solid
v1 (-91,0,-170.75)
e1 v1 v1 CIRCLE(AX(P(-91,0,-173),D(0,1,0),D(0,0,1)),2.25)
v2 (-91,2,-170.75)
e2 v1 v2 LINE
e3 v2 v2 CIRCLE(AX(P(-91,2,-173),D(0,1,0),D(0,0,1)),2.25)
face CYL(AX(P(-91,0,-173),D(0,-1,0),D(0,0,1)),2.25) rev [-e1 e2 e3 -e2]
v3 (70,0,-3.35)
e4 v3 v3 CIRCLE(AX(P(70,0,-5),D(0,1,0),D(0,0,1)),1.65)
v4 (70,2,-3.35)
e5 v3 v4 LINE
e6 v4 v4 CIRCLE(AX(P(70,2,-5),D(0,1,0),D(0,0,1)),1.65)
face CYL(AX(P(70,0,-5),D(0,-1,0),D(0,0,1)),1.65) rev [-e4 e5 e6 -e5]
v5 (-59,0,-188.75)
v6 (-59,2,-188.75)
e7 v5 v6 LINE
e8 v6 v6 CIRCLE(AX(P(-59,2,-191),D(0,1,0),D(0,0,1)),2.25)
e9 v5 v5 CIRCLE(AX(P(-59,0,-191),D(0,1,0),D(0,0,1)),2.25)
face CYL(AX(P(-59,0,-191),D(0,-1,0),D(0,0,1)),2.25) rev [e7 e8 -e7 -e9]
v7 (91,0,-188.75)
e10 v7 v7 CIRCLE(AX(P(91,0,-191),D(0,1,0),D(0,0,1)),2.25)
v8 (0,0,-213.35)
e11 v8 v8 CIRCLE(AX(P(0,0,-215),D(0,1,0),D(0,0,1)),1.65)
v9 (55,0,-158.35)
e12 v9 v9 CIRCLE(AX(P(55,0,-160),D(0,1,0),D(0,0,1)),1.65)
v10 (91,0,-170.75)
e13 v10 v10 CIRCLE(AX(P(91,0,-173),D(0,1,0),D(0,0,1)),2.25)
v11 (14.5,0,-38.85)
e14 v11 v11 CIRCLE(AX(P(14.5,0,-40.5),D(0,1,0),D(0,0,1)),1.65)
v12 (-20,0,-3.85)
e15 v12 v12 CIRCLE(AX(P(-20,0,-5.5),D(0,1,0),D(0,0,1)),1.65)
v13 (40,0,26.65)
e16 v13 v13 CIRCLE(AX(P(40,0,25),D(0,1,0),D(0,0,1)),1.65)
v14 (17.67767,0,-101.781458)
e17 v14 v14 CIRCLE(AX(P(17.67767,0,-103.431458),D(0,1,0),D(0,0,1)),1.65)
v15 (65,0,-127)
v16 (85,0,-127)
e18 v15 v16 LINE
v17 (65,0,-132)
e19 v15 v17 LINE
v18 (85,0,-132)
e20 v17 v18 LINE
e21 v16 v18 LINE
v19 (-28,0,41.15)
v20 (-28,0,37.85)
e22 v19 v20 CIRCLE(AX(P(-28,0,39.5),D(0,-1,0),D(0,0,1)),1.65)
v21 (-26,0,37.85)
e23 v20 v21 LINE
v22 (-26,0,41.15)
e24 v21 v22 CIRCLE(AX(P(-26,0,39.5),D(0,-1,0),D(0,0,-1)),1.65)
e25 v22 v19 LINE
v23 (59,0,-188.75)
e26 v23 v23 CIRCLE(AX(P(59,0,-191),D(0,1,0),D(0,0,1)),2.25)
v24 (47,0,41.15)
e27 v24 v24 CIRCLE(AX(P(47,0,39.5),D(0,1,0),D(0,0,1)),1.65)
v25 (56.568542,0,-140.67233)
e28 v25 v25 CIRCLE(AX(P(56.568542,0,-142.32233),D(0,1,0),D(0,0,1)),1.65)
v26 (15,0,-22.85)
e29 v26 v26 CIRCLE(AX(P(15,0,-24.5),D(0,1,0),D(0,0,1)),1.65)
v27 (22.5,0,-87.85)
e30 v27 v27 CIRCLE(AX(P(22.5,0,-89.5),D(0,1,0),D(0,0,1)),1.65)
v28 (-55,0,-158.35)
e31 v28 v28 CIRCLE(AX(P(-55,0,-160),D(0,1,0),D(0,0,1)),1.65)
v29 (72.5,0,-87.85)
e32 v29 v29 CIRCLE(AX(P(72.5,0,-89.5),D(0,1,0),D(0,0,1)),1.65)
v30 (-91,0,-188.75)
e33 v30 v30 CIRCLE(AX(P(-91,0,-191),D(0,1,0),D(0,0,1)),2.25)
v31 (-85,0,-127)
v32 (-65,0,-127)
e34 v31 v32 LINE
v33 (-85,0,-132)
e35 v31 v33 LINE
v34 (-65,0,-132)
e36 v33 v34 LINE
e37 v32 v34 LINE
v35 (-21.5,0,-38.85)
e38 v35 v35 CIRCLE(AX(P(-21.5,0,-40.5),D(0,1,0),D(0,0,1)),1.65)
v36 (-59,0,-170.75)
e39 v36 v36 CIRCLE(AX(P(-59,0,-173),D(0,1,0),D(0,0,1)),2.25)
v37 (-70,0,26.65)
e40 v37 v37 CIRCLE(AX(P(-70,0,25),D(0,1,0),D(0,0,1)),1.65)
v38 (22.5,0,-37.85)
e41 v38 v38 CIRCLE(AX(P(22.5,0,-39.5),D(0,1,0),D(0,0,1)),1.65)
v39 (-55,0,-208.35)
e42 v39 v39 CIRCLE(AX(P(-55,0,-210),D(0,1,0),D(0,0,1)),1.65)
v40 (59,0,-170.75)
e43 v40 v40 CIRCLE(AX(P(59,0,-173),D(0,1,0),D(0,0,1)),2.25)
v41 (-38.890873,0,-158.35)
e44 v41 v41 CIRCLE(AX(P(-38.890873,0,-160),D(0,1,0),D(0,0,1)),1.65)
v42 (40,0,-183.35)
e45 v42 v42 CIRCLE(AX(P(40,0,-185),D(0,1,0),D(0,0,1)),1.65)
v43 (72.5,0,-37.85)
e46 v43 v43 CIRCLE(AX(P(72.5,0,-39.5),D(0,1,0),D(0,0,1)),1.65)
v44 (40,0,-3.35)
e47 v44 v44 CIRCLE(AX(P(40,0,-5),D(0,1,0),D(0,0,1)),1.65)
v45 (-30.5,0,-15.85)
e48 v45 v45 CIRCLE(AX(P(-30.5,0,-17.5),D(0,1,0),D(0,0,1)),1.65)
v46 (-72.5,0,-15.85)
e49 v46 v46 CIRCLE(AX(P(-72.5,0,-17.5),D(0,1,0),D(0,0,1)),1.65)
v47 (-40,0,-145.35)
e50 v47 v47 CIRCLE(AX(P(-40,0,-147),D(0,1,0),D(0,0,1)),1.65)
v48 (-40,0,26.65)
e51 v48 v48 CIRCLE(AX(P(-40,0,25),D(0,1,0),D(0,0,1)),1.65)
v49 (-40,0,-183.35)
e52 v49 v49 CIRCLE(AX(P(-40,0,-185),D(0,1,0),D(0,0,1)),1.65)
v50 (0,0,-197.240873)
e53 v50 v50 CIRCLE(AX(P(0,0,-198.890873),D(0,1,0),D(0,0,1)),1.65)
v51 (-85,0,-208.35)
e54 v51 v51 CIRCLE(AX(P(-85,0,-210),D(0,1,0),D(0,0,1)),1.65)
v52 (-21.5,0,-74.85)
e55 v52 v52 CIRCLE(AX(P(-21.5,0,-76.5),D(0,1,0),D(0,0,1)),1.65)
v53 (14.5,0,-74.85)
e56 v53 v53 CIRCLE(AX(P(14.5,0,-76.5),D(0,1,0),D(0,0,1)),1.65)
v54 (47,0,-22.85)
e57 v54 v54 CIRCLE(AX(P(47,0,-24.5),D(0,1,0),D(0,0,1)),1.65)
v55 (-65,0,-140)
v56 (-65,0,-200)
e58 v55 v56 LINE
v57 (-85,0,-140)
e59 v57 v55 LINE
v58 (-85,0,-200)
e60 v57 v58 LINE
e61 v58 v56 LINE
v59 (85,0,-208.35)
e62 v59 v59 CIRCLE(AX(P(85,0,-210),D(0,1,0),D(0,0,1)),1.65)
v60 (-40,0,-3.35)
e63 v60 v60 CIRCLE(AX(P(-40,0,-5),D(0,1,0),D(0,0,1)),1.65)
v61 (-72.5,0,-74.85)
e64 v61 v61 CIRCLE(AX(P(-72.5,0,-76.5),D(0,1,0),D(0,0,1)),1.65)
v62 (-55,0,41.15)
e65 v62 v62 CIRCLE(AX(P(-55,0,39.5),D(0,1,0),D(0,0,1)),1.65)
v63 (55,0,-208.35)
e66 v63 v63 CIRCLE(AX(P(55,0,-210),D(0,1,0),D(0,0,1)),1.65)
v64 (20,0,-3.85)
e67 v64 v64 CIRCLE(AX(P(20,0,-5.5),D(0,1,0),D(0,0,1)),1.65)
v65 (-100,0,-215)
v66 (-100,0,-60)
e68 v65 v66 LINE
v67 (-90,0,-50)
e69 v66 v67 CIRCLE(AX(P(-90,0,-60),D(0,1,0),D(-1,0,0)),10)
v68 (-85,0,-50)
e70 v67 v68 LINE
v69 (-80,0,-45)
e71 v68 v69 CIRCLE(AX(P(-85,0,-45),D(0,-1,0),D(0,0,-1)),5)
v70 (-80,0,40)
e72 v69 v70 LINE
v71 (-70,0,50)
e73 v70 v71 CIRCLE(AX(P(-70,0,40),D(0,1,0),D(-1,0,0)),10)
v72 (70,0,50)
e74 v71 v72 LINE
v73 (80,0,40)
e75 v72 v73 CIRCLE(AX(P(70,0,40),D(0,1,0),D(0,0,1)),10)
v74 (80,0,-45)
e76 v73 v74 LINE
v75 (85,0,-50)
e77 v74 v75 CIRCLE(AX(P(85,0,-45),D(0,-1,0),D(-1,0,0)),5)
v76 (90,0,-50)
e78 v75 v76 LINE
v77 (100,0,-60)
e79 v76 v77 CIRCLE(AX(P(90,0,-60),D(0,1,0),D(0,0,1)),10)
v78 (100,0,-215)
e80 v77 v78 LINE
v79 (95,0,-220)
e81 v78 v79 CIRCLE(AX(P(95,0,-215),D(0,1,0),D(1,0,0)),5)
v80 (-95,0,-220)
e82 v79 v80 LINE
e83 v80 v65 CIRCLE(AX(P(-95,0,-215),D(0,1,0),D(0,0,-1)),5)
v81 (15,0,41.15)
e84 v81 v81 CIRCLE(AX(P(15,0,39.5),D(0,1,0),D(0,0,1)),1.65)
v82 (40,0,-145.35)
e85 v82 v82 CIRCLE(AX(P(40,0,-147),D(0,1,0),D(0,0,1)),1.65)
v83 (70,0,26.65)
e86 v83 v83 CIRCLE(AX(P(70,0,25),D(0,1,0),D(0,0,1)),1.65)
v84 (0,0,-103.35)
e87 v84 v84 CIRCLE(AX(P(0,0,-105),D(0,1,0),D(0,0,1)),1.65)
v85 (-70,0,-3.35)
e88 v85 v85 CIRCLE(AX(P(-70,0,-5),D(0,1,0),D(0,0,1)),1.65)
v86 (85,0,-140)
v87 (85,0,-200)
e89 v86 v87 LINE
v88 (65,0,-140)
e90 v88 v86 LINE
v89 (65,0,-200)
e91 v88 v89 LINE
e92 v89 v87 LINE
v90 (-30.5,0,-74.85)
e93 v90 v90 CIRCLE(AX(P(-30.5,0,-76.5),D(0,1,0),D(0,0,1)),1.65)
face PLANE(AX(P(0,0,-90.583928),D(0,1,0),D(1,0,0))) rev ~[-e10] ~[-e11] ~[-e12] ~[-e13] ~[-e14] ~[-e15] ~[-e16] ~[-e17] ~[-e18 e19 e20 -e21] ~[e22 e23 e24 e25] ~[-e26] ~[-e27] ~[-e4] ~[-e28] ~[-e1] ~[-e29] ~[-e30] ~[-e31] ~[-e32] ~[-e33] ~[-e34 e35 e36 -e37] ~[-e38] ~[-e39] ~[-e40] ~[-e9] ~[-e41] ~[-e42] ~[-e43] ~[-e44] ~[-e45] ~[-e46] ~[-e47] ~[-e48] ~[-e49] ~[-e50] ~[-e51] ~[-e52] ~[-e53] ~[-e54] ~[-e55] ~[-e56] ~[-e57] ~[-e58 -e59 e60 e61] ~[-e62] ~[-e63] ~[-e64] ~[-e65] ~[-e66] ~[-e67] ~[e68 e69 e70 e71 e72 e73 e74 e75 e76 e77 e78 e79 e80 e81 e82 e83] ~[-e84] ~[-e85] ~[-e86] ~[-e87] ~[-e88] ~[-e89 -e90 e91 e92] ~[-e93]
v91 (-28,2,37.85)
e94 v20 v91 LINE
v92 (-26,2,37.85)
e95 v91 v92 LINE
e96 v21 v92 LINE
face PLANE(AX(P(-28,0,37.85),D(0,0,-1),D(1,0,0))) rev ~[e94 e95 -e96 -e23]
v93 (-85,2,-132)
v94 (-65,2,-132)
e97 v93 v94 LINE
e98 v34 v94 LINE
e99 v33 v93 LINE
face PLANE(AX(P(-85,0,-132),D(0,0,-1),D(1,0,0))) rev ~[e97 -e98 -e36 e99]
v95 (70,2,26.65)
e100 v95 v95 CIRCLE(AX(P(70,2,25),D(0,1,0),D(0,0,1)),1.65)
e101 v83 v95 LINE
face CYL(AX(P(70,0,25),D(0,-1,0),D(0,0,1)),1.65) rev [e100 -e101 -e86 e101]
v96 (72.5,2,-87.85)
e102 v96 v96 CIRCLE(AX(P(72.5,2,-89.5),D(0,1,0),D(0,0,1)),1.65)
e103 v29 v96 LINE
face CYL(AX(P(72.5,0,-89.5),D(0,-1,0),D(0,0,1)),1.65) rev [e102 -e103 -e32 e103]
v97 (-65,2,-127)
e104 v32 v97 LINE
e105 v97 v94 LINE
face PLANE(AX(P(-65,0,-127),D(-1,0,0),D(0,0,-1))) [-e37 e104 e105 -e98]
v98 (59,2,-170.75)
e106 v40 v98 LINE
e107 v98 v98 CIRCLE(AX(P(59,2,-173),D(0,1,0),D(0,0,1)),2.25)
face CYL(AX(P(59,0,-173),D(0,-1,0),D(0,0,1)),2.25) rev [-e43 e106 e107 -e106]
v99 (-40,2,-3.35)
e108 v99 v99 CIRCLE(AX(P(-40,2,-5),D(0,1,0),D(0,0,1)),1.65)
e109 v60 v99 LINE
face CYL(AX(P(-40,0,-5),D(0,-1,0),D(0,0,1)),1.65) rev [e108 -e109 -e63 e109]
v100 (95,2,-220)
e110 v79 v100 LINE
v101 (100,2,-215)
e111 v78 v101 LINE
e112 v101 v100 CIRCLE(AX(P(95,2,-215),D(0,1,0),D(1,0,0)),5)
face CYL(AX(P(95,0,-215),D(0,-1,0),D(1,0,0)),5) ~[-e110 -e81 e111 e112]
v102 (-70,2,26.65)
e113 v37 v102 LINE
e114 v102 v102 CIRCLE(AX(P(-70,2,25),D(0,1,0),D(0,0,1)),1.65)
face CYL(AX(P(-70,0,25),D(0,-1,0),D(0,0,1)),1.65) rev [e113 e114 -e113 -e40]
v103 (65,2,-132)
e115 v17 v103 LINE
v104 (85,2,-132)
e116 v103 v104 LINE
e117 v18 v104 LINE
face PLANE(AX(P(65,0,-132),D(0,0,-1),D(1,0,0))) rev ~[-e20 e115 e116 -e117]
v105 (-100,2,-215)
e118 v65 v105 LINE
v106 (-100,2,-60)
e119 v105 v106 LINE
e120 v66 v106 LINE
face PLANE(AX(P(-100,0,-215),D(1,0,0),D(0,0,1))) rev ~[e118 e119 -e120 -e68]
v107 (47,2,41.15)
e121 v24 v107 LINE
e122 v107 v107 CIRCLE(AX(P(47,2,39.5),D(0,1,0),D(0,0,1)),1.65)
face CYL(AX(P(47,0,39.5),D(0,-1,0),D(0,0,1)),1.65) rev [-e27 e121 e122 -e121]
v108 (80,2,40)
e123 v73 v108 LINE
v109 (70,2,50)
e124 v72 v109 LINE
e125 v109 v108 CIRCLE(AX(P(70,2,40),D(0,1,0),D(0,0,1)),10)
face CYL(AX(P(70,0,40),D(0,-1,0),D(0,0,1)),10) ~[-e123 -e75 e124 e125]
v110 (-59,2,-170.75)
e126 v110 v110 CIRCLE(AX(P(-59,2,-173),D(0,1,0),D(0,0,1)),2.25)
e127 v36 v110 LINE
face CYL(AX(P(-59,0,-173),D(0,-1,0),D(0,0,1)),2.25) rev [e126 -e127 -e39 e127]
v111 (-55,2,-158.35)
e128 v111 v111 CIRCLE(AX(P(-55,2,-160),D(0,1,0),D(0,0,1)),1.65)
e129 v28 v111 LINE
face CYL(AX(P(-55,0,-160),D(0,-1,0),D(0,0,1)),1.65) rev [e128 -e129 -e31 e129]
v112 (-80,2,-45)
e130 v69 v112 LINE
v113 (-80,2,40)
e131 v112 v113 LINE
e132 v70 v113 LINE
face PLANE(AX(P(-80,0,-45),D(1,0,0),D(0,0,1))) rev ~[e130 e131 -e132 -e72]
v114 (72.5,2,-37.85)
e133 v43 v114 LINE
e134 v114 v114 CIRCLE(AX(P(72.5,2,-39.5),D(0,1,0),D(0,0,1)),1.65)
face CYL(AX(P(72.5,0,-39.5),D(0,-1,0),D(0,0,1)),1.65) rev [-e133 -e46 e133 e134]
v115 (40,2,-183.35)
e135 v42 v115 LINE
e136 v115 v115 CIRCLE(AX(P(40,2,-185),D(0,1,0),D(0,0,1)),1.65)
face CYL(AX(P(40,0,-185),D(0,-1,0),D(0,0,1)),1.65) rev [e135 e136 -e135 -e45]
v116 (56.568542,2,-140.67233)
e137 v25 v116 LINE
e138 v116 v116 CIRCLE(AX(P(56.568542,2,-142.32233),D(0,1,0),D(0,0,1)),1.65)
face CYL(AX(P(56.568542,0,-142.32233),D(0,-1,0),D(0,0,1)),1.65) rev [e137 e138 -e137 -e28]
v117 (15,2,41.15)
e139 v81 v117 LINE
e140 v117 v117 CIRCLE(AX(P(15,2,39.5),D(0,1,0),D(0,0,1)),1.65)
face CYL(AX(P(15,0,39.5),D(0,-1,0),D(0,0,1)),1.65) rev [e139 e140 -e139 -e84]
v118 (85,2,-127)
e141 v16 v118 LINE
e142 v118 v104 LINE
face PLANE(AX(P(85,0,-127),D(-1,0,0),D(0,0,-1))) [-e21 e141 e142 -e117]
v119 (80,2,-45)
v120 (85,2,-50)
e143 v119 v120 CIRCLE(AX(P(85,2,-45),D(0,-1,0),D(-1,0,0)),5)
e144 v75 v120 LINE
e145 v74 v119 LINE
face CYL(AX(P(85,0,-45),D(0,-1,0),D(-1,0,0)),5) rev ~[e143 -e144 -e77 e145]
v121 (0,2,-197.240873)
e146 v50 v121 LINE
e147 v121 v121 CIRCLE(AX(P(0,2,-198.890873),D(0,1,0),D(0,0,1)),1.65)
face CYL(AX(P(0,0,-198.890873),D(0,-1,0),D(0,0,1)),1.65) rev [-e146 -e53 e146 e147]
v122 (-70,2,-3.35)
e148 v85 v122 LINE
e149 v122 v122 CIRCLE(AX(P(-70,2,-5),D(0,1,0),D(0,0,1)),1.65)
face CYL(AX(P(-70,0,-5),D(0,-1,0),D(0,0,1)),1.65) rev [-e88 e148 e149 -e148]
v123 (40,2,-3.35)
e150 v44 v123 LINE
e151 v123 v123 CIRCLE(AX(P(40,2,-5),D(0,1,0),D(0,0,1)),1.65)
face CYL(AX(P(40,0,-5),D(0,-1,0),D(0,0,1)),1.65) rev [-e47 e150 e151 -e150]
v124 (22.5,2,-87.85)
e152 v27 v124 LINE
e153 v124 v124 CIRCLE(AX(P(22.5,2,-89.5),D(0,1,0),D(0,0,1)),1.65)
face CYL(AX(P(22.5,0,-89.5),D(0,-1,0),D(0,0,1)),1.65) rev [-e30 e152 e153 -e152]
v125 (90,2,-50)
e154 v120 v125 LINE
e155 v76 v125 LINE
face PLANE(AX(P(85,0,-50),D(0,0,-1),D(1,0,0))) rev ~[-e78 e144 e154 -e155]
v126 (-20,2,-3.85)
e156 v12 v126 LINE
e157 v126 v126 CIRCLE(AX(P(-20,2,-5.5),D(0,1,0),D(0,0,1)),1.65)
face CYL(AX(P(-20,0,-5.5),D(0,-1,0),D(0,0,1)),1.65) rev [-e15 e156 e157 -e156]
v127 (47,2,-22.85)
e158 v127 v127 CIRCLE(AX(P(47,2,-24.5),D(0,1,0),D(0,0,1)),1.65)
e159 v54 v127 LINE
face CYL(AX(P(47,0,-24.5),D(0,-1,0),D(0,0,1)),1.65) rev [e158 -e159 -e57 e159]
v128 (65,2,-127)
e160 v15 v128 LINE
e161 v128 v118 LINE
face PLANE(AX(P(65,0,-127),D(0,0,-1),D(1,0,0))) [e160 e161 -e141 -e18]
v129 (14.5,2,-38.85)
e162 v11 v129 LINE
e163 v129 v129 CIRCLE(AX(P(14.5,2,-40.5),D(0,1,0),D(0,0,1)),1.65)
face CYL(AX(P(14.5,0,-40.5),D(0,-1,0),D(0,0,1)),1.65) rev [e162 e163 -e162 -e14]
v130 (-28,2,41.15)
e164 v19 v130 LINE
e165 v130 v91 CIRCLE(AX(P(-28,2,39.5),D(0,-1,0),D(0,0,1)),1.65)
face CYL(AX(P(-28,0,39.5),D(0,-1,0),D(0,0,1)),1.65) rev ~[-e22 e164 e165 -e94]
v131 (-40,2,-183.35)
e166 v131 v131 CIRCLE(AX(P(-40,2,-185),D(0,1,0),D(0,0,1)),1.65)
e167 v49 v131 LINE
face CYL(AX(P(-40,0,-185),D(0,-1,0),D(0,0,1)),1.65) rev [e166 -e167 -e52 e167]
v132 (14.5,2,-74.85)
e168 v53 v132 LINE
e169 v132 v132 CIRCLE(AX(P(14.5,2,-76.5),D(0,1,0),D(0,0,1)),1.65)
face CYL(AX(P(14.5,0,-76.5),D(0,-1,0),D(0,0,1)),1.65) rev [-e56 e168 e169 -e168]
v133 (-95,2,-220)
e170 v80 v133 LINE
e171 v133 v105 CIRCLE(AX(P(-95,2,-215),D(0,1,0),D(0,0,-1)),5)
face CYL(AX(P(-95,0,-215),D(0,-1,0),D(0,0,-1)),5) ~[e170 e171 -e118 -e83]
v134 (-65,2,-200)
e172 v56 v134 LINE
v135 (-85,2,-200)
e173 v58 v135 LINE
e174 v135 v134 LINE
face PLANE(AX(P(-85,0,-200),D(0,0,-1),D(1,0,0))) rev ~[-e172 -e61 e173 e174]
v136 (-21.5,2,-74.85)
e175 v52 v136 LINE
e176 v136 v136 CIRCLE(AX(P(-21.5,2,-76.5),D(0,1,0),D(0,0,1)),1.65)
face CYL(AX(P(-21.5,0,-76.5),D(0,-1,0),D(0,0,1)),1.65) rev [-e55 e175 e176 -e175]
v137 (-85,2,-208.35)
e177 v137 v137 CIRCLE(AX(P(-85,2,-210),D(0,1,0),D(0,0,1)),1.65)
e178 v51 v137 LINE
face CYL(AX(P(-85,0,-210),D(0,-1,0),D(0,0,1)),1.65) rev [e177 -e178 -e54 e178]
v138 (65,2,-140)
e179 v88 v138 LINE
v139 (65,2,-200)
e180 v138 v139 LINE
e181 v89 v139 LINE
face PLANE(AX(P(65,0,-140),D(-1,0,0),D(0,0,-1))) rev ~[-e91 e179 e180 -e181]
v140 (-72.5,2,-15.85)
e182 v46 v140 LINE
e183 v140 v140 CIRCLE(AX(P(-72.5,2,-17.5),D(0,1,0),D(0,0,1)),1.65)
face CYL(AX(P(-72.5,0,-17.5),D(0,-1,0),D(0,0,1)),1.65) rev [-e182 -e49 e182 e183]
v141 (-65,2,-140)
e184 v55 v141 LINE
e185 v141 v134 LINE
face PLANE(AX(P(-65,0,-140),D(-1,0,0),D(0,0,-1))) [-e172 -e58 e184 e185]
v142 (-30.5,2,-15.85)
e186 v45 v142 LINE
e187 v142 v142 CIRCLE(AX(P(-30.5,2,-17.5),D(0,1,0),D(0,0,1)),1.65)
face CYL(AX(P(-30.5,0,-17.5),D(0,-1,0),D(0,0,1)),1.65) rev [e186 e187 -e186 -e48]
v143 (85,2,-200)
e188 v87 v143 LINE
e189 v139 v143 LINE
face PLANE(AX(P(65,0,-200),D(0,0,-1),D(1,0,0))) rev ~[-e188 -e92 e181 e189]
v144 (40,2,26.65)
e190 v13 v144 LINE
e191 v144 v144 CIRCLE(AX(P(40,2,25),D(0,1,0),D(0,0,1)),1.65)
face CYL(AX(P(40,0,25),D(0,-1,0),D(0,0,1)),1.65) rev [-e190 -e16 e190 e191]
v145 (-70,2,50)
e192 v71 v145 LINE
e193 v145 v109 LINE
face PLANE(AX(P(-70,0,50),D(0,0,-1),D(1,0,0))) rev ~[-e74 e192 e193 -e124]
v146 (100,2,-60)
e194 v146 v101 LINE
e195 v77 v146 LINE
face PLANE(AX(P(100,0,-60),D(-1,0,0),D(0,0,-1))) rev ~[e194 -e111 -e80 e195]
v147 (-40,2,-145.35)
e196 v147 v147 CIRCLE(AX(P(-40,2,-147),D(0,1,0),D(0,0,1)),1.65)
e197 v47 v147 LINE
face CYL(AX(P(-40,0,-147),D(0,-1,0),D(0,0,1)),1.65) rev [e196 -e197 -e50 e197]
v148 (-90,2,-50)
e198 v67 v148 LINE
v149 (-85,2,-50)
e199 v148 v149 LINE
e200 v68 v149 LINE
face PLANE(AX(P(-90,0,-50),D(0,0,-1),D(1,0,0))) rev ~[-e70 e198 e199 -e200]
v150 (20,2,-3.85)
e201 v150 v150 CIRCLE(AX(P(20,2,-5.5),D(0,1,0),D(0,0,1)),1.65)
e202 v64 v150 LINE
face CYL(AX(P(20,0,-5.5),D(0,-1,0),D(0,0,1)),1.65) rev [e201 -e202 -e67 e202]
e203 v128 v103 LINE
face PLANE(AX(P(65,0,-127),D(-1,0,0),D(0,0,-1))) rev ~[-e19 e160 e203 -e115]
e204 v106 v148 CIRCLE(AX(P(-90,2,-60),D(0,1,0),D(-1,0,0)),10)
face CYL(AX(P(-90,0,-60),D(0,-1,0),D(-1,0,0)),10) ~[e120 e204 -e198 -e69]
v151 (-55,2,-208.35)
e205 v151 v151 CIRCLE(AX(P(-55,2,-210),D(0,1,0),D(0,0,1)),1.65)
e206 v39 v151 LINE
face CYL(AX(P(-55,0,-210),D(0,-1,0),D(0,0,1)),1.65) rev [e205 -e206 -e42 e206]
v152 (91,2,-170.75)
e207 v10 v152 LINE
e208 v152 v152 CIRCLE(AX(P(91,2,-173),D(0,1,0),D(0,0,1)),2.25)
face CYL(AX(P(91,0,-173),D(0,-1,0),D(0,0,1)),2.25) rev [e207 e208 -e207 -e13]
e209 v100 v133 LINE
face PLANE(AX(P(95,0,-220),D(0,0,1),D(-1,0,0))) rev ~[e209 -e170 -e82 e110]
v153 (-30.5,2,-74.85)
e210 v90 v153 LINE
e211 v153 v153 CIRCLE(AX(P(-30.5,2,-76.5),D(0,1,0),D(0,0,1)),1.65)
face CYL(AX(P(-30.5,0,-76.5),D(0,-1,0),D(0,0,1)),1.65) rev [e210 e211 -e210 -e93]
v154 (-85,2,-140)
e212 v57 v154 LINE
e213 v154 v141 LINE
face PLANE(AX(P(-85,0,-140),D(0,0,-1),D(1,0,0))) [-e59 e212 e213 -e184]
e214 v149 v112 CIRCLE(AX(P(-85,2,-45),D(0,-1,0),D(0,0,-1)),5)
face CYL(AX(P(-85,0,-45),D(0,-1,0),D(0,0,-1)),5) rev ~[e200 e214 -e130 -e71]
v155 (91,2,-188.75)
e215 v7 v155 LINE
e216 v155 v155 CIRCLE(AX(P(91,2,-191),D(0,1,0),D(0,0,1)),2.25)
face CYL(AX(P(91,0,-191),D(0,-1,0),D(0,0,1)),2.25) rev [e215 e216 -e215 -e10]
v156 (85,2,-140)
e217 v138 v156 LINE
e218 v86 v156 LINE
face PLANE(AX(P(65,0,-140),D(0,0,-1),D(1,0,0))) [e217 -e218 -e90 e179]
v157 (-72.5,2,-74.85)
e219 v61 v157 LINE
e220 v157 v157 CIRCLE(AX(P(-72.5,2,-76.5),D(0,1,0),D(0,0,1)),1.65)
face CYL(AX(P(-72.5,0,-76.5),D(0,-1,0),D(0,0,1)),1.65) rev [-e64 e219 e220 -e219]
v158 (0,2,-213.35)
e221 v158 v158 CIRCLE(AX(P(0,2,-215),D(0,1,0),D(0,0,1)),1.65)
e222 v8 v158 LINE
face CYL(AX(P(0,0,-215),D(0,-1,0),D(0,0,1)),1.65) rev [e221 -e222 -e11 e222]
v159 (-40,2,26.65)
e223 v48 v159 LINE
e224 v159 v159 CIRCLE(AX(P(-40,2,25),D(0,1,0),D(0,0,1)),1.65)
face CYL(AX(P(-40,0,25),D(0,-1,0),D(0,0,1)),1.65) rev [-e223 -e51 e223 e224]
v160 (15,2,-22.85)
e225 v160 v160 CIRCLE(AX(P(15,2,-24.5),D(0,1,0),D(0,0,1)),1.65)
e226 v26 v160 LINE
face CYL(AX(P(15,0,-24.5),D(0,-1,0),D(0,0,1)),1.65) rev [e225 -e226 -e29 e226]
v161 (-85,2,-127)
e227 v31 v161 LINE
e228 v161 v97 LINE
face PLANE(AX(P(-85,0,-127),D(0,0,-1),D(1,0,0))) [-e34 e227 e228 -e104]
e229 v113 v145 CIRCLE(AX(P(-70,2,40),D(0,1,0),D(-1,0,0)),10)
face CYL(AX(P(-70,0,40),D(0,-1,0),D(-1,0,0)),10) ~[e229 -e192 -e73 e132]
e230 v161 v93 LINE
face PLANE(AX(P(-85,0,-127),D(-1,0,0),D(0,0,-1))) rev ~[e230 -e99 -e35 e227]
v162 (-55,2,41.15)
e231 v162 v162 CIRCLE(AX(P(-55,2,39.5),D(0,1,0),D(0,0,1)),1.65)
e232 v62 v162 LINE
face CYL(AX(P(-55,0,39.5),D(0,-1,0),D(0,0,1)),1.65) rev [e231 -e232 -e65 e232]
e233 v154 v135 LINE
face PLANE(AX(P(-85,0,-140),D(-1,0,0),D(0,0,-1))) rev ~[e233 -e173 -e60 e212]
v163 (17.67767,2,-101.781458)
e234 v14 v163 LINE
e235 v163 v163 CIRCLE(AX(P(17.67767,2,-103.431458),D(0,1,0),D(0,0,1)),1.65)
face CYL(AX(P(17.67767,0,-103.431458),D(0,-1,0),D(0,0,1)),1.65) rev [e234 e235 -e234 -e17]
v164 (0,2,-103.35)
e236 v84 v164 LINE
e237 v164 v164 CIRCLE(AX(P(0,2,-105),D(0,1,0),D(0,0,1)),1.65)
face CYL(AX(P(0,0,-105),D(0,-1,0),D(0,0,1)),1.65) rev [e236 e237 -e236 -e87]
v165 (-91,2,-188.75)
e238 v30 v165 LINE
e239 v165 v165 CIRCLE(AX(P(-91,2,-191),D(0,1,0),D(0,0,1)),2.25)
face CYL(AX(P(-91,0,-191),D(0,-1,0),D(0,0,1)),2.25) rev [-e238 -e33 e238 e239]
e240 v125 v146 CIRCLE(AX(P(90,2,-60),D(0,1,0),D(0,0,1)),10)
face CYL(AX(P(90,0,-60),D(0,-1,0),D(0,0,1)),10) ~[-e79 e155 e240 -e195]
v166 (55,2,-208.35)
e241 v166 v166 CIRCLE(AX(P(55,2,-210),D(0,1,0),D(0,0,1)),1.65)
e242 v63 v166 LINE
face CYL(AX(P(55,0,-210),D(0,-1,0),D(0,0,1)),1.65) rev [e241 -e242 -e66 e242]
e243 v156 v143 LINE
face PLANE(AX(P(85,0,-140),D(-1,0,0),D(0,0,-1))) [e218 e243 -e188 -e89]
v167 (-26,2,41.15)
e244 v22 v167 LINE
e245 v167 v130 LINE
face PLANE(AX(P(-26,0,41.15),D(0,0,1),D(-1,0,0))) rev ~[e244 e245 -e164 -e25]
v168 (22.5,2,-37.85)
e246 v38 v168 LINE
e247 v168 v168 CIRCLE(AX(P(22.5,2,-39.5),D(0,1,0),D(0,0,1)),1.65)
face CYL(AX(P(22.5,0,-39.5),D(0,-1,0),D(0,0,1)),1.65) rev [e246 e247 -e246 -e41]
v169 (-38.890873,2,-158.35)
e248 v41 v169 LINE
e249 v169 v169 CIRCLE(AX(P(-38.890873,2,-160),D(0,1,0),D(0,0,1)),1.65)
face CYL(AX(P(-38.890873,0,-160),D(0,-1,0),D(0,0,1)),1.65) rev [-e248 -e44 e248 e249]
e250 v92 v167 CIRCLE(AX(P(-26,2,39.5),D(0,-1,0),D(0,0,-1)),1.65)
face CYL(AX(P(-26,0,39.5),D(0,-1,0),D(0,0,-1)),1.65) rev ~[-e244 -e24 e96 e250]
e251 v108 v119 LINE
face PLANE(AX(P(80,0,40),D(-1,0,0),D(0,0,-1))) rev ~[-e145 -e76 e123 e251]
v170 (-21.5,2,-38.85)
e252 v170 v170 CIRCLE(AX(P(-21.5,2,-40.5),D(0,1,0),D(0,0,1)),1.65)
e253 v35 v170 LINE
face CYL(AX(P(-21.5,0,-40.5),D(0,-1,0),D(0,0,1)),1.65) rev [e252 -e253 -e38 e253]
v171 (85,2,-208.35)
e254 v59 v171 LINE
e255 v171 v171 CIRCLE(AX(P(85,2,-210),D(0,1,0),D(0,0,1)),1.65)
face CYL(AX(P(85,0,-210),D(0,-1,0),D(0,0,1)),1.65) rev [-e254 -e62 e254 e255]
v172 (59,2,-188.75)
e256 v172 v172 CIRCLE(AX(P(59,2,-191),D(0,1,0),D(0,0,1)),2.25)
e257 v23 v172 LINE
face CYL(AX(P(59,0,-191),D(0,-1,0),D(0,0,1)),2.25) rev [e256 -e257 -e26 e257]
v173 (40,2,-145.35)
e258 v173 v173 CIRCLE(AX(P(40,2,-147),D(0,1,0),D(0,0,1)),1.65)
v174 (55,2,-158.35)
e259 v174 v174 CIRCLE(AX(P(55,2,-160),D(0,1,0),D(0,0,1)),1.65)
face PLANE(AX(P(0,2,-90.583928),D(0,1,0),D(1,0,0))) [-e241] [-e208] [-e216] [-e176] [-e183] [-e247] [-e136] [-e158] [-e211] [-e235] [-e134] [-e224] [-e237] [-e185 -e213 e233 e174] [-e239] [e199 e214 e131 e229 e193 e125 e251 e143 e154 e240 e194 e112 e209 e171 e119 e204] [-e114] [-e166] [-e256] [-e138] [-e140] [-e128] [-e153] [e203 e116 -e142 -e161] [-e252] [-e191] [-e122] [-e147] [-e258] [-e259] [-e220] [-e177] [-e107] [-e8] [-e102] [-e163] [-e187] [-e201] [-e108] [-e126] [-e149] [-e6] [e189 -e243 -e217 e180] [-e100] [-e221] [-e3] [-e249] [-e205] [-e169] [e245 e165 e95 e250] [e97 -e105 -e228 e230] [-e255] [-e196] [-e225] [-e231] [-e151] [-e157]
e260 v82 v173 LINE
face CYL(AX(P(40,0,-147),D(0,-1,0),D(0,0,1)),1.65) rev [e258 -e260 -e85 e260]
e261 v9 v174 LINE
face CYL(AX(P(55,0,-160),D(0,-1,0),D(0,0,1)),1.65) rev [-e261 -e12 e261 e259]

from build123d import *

# Parameters (mm, degrees)
SKETCH_1_R      = 1.65
SKETCH_1_R_2    = 2.25
SKETCH_1_W      = 20
SKETCH_1_H      = 60
SKETCH_1_H_2    = 5
EXTRUDE_1_DEPTH = 2


with BuildPart() as part:
    # 草图1 → 凸台-拉伸1 (new body)
    with BuildSketch(Plane(origin=(0, 0, 0), x_dir=(1, 0, 0), z_dir=(0, 1, 0))):
        with BuildLine():
            Line((85, 50), (90, 50))
            ThreePointArc((90, 50), (97.071067812, 52.928932188), (100, 60))
            Line((100, 60), (100, 215))
            ThreePointArc((100, 215), (98.535533906, 218.535533906), (95, 220))
            Line((95, 220), (-95, 220))
            ThreePointArc((-95, 220), (-98.535533906, 218.535533906), (-100, 215))
            Line((-100, 215), (-100, 60))
            ThreePointArc((-100, 60), (-97.071067812, 52.928932188), (-90, 50))
            Line((-90, 50), (-85, 50))
            ThreePointArc((-85, 50), (-81.464466094, 48.535533906), (-80, 45))
            Line((-80, 45), (-80, -40))
            ThreePointArc((-80, -40), (-77.071067812, -47.071067812), (-70, -50))
            Line((-70, -50), (70, -50))
            ThreePointArc((70, -50), (77.071067812, -47.071067812), (80, -40))
            Line((80, -40), (80, 45))
            ThreePointArc((80, 45), (81.464466094, 48.535533906), (85, 50))
        make_face()
        with Locations(Location((47, -39.5, 0), (0, 0, 270))):
            Circle(SKETCH_1_R, mode=Mode.SUBTRACT)
        with Locations(Location((-40, 5, 0), (0, 0, 270))):
            Circle(SKETCH_1_R, mode=Mode.SUBTRACT)
        with Locations(Location((-40, -25, 0), (0, 0, 270))):
            Circle(SKETCH_1_R, mode=Mode.SUBTRACT)
        with Locations(Location((-70, -25, 0), (0, 0, 270))):
            Circle(SKETCH_1_R, mode=Mode.SUBTRACT)
        with Locations(Location((-70, 5, 0), (0, 0, 270))):
            Circle(SKETCH_1_R, mode=Mode.SUBTRACT)
        with Locations(Location((70, 5, 0), (0, 0, 270))):
            Circle(SKETCH_1_R, mode=Mode.SUBTRACT)
        with Locations(Location((70, -25, 0), (0, 0, 270))):
            Circle(SKETCH_1_R, mode=Mode.SUBTRACT)
        with Locations(Location((40, -25, 0), (0, 0, 270))):
            Circle(SKETCH_1_R, mode=Mode.SUBTRACT)
        with Locations(Location((40, 5, 0), (0, 0, 270))):
            Circle(SKETCH_1_R, mode=Mode.SUBTRACT)
        with Locations(Location((47, 24.5, 0), (0, 0, 270))):
            Circle(SKETCH_1_R, mode=Mode.SUBTRACT)
        with Locations(Location((15, 24.5, 0), (0, 0, 270))):
            Circle(SKETCH_1_R, mode=Mode.SUBTRACT)
        with Locations(Location((15, -39.5, 0), (0, 0, 270))):
            Circle(SKETCH_1_R, mode=Mode.SUBTRACT)
        with Locations(Location((-30.5, 76.5, 0), (0, 0, 270))):
            Circle(SKETCH_1_R, mode=Mode.SUBTRACT)
        with Locations(Location((-72.5, 76.5, 0), (0, 0, 270))):
            Circle(SKETCH_1_R, mode=Mode.SUBTRACT)
        with Locations(Location((-30.5, 17.5, 0), (0, 0, 270))):
            Circle(SKETCH_1_R, mode=Mode.SUBTRACT)
        with Locations(Location((-72.5, 17.5, 0), (0, 0, 270))):
            Circle(SKETCH_1_R, mode=Mode.SUBTRACT)
        with Locations(Location((22.5, 89.5, 0), (0, 0, 270))):
            Circle(SKETCH_1_R, mode=Mode.SUBTRACT)
        with Locations(Location((72.5, 89.5, 0), (0, 0, 270))):
            Circle(SKETCH_1_R, mode=Mode.SUBTRACT)
        with Locations(Location((72.5, 39.5, 0), (0, 0, 270))):
            Circle(SKETCH_1_R, mode=Mode.SUBTRACT)
        with Locations(Location((22.5, 39.5, 0), (0, 0, 270))):
            Circle(SKETCH_1_R, mode=Mode.SUBTRACT)
        with Locations(Location((0, 215, 0), (0, 0, 270))):
            Circle(SKETCH_1_R, mode=Mode.SUBTRACT)
        with Locations(Location((-85, 210, 0), (0, 0, 270))):
            Circle(SKETCH_1_R, mode=Mode.SUBTRACT)
        with Locations(Location((-55, 210, 0), (0, 0, 270))):
            Circle(SKETCH_1_R, mode=Mode.SUBTRACT)
        with Locations(Location((85, 210, 0), (0, 0, 270))):
            Circle(SKETCH_1_R, mode=Mode.SUBTRACT)
        with Locations(Location((55, 210, 0), (0, 0, 270))):
            Circle(SKETCH_1_R, mode=Mode.SUBTRACT)
        with Locations(Location((55, 160, 0), (0, 0, 270))):
            Circle(SKETCH_1_R, mode=Mode.SUBTRACT)
        with Locations(Location((0, 105, 0), (0, 0, 270))):
            Circle(SKETCH_1_R, mode=Mode.SUBTRACT)
        with Locations(Location((-55, 160, 0), (0, 0, 270))):
            Circle(SKETCH_1_R, mode=Mode.SUBTRACT)
        with Locations(Location((-55, -39.5, 0), (0, 0, 270))):
            Circle(SKETCH_1_R, mode=Mode.SUBTRACT)
        with Locations(Location((-20, 5.5, 0), (0, 0, 270))):
            Circle(SKETCH_1_R, mode=Mode.SUBTRACT)
        with Locations(Location((20, 5.5, 0), (0, 0, 270))):
            Circle(SKETCH_1_R, mode=Mode.SUBTRACT)
        with Locations(Location((0, 198.890872965, 0), (0, 0, 270))):
            Circle(SKETCH_1_R, mode=Mode.SUBTRACT)
        with Locations(Location((-38.890872965, 160, 0), (0, 0, 270))):
            Circle(SKETCH_1_R, mode=Mode.SUBTRACT)
        with Locations(Location((17.67766953, 103.431457505, 0), (0, 0, 270))):
            Circle(SKETCH_1_R, mode=Mode.SUBTRACT)
        with Locations(Location((56.568542495, 142.32233047, 0), (0, 0, 270))):
            Circle(SKETCH_1_R, mode=Mode.SUBTRACT)
        with Locations(Location((-21.5, 76.5, 0), (0, 0, 270))):
            Circle(SKETCH_1_R, mode=Mode.SUBTRACT)
        with Locations(Location((14.5, 76.5, 0), (0, 0, 270))):
            Circle(SKETCH_1_R, mode=Mode.SUBTRACT)
        with Locations(Location((14.5, 40.5, 0), (0, 0, 270))):
            Circle(SKETCH_1_R, mode=Mode.SUBTRACT)
        with Locations(Location((-21.5, 40.5, 0), (0, 0, 270))):
            Circle(SKETCH_1_R, mode=Mode.SUBTRACT)
        with Locations(Location((-91, 191, 0), (0, 0, 270))):
            Circle(SKETCH_1_R_2, mode=Mode.SUBTRACT)
        with Locations(Location((-91, 173, 0), (0, 0, 270))):
            Circle(SKETCH_1_R_2, mode=Mode.SUBTRACT)
        with Locations(Location((-59, 191, 0), (0, 0, 270))):
            Circle(SKETCH_1_R_2, mode=Mode.SUBTRACT)
        with Locations(Location((-59, 173, 0), (0, 0, 270))):
            Circle(SKETCH_1_R_2, mode=Mode.SUBTRACT)
        with Locations(Location((91, 191, 0), (0, 0, 270))):
            Circle(SKETCH_1_R_2, mode=Mode.SUBTRACT)
        with Locations(Location((59, 191, 0), (0, 0, 270))):
            Circle(SKETCH_1_R_2, mode=Mode.SUBTRACT)
        with Locations(Location((59, 173, 0), (0, 0, 270))):
            Circle(SKETCH_1_R_2, mode=Mode.SUBTRACT)
        with Locations(Location((91, 173, 0), (0, 0, 270))):
            Circle(SKETCH_1_R_2, mode=Mode.SUBTRACT)
        with Locations(Location((-40, 185, 0), (0, 0, 270))):
            Circle(SKETCH_1_R, mode=Mode.SUBTRACT)
        with Locations(Location((-40, 147, 0), (0, 0, 270))):
            Circle(SKETCH_1_R, mode=Mode.SUBTRACT)
        with Locations(Location((40, 147, 0), (0, 0, 270))):
            Circle(SKETCH_1_R, mode=Mode.SUBTRACT)
        with Locations(Location((40, 185, 0), (0, 0, 270))):
            Circle(SKETCH_1_R, mode=Mode.SUBTRACT)
        with Locations((75, 170)):
            Rectangle(SKETCH_1_W, SKETCH_1_H, mode=Mode.SUBTRACT)
        with BuildLine():
            Line((-28, -37.85), (-26, -37.85))
            ThreePointArc((-26, -37.85), (-24.35, -39.5), (-26, -41.15))
            Line((-26, -41.15), (-28, -41.15))
            ThreePointArc((-28, -41.15), (-29.65, -39.5), (-28, -37.85))
        make_face(mode=Mode.SUBTRACT)
        with Locations((75, 129.5)):
            Rectangle(SKETCH_1_W, SKETCH_1_H_2, mode=Mode.SUBTRACT)
        with Locations((-75, 170)):
            Rectangle(SKETCH_1_W, SKETCH_1_H, mode=Mode.SUBTRACT)
        with Locations((-75, 129.5)):
            Rectangle(SKETCH_1_W, SKETCH_1_H_2, mode=Mode.SUBTRACT)
    extrude(amount=EXTRUDE_1_DEPTH)


solid = part.part
